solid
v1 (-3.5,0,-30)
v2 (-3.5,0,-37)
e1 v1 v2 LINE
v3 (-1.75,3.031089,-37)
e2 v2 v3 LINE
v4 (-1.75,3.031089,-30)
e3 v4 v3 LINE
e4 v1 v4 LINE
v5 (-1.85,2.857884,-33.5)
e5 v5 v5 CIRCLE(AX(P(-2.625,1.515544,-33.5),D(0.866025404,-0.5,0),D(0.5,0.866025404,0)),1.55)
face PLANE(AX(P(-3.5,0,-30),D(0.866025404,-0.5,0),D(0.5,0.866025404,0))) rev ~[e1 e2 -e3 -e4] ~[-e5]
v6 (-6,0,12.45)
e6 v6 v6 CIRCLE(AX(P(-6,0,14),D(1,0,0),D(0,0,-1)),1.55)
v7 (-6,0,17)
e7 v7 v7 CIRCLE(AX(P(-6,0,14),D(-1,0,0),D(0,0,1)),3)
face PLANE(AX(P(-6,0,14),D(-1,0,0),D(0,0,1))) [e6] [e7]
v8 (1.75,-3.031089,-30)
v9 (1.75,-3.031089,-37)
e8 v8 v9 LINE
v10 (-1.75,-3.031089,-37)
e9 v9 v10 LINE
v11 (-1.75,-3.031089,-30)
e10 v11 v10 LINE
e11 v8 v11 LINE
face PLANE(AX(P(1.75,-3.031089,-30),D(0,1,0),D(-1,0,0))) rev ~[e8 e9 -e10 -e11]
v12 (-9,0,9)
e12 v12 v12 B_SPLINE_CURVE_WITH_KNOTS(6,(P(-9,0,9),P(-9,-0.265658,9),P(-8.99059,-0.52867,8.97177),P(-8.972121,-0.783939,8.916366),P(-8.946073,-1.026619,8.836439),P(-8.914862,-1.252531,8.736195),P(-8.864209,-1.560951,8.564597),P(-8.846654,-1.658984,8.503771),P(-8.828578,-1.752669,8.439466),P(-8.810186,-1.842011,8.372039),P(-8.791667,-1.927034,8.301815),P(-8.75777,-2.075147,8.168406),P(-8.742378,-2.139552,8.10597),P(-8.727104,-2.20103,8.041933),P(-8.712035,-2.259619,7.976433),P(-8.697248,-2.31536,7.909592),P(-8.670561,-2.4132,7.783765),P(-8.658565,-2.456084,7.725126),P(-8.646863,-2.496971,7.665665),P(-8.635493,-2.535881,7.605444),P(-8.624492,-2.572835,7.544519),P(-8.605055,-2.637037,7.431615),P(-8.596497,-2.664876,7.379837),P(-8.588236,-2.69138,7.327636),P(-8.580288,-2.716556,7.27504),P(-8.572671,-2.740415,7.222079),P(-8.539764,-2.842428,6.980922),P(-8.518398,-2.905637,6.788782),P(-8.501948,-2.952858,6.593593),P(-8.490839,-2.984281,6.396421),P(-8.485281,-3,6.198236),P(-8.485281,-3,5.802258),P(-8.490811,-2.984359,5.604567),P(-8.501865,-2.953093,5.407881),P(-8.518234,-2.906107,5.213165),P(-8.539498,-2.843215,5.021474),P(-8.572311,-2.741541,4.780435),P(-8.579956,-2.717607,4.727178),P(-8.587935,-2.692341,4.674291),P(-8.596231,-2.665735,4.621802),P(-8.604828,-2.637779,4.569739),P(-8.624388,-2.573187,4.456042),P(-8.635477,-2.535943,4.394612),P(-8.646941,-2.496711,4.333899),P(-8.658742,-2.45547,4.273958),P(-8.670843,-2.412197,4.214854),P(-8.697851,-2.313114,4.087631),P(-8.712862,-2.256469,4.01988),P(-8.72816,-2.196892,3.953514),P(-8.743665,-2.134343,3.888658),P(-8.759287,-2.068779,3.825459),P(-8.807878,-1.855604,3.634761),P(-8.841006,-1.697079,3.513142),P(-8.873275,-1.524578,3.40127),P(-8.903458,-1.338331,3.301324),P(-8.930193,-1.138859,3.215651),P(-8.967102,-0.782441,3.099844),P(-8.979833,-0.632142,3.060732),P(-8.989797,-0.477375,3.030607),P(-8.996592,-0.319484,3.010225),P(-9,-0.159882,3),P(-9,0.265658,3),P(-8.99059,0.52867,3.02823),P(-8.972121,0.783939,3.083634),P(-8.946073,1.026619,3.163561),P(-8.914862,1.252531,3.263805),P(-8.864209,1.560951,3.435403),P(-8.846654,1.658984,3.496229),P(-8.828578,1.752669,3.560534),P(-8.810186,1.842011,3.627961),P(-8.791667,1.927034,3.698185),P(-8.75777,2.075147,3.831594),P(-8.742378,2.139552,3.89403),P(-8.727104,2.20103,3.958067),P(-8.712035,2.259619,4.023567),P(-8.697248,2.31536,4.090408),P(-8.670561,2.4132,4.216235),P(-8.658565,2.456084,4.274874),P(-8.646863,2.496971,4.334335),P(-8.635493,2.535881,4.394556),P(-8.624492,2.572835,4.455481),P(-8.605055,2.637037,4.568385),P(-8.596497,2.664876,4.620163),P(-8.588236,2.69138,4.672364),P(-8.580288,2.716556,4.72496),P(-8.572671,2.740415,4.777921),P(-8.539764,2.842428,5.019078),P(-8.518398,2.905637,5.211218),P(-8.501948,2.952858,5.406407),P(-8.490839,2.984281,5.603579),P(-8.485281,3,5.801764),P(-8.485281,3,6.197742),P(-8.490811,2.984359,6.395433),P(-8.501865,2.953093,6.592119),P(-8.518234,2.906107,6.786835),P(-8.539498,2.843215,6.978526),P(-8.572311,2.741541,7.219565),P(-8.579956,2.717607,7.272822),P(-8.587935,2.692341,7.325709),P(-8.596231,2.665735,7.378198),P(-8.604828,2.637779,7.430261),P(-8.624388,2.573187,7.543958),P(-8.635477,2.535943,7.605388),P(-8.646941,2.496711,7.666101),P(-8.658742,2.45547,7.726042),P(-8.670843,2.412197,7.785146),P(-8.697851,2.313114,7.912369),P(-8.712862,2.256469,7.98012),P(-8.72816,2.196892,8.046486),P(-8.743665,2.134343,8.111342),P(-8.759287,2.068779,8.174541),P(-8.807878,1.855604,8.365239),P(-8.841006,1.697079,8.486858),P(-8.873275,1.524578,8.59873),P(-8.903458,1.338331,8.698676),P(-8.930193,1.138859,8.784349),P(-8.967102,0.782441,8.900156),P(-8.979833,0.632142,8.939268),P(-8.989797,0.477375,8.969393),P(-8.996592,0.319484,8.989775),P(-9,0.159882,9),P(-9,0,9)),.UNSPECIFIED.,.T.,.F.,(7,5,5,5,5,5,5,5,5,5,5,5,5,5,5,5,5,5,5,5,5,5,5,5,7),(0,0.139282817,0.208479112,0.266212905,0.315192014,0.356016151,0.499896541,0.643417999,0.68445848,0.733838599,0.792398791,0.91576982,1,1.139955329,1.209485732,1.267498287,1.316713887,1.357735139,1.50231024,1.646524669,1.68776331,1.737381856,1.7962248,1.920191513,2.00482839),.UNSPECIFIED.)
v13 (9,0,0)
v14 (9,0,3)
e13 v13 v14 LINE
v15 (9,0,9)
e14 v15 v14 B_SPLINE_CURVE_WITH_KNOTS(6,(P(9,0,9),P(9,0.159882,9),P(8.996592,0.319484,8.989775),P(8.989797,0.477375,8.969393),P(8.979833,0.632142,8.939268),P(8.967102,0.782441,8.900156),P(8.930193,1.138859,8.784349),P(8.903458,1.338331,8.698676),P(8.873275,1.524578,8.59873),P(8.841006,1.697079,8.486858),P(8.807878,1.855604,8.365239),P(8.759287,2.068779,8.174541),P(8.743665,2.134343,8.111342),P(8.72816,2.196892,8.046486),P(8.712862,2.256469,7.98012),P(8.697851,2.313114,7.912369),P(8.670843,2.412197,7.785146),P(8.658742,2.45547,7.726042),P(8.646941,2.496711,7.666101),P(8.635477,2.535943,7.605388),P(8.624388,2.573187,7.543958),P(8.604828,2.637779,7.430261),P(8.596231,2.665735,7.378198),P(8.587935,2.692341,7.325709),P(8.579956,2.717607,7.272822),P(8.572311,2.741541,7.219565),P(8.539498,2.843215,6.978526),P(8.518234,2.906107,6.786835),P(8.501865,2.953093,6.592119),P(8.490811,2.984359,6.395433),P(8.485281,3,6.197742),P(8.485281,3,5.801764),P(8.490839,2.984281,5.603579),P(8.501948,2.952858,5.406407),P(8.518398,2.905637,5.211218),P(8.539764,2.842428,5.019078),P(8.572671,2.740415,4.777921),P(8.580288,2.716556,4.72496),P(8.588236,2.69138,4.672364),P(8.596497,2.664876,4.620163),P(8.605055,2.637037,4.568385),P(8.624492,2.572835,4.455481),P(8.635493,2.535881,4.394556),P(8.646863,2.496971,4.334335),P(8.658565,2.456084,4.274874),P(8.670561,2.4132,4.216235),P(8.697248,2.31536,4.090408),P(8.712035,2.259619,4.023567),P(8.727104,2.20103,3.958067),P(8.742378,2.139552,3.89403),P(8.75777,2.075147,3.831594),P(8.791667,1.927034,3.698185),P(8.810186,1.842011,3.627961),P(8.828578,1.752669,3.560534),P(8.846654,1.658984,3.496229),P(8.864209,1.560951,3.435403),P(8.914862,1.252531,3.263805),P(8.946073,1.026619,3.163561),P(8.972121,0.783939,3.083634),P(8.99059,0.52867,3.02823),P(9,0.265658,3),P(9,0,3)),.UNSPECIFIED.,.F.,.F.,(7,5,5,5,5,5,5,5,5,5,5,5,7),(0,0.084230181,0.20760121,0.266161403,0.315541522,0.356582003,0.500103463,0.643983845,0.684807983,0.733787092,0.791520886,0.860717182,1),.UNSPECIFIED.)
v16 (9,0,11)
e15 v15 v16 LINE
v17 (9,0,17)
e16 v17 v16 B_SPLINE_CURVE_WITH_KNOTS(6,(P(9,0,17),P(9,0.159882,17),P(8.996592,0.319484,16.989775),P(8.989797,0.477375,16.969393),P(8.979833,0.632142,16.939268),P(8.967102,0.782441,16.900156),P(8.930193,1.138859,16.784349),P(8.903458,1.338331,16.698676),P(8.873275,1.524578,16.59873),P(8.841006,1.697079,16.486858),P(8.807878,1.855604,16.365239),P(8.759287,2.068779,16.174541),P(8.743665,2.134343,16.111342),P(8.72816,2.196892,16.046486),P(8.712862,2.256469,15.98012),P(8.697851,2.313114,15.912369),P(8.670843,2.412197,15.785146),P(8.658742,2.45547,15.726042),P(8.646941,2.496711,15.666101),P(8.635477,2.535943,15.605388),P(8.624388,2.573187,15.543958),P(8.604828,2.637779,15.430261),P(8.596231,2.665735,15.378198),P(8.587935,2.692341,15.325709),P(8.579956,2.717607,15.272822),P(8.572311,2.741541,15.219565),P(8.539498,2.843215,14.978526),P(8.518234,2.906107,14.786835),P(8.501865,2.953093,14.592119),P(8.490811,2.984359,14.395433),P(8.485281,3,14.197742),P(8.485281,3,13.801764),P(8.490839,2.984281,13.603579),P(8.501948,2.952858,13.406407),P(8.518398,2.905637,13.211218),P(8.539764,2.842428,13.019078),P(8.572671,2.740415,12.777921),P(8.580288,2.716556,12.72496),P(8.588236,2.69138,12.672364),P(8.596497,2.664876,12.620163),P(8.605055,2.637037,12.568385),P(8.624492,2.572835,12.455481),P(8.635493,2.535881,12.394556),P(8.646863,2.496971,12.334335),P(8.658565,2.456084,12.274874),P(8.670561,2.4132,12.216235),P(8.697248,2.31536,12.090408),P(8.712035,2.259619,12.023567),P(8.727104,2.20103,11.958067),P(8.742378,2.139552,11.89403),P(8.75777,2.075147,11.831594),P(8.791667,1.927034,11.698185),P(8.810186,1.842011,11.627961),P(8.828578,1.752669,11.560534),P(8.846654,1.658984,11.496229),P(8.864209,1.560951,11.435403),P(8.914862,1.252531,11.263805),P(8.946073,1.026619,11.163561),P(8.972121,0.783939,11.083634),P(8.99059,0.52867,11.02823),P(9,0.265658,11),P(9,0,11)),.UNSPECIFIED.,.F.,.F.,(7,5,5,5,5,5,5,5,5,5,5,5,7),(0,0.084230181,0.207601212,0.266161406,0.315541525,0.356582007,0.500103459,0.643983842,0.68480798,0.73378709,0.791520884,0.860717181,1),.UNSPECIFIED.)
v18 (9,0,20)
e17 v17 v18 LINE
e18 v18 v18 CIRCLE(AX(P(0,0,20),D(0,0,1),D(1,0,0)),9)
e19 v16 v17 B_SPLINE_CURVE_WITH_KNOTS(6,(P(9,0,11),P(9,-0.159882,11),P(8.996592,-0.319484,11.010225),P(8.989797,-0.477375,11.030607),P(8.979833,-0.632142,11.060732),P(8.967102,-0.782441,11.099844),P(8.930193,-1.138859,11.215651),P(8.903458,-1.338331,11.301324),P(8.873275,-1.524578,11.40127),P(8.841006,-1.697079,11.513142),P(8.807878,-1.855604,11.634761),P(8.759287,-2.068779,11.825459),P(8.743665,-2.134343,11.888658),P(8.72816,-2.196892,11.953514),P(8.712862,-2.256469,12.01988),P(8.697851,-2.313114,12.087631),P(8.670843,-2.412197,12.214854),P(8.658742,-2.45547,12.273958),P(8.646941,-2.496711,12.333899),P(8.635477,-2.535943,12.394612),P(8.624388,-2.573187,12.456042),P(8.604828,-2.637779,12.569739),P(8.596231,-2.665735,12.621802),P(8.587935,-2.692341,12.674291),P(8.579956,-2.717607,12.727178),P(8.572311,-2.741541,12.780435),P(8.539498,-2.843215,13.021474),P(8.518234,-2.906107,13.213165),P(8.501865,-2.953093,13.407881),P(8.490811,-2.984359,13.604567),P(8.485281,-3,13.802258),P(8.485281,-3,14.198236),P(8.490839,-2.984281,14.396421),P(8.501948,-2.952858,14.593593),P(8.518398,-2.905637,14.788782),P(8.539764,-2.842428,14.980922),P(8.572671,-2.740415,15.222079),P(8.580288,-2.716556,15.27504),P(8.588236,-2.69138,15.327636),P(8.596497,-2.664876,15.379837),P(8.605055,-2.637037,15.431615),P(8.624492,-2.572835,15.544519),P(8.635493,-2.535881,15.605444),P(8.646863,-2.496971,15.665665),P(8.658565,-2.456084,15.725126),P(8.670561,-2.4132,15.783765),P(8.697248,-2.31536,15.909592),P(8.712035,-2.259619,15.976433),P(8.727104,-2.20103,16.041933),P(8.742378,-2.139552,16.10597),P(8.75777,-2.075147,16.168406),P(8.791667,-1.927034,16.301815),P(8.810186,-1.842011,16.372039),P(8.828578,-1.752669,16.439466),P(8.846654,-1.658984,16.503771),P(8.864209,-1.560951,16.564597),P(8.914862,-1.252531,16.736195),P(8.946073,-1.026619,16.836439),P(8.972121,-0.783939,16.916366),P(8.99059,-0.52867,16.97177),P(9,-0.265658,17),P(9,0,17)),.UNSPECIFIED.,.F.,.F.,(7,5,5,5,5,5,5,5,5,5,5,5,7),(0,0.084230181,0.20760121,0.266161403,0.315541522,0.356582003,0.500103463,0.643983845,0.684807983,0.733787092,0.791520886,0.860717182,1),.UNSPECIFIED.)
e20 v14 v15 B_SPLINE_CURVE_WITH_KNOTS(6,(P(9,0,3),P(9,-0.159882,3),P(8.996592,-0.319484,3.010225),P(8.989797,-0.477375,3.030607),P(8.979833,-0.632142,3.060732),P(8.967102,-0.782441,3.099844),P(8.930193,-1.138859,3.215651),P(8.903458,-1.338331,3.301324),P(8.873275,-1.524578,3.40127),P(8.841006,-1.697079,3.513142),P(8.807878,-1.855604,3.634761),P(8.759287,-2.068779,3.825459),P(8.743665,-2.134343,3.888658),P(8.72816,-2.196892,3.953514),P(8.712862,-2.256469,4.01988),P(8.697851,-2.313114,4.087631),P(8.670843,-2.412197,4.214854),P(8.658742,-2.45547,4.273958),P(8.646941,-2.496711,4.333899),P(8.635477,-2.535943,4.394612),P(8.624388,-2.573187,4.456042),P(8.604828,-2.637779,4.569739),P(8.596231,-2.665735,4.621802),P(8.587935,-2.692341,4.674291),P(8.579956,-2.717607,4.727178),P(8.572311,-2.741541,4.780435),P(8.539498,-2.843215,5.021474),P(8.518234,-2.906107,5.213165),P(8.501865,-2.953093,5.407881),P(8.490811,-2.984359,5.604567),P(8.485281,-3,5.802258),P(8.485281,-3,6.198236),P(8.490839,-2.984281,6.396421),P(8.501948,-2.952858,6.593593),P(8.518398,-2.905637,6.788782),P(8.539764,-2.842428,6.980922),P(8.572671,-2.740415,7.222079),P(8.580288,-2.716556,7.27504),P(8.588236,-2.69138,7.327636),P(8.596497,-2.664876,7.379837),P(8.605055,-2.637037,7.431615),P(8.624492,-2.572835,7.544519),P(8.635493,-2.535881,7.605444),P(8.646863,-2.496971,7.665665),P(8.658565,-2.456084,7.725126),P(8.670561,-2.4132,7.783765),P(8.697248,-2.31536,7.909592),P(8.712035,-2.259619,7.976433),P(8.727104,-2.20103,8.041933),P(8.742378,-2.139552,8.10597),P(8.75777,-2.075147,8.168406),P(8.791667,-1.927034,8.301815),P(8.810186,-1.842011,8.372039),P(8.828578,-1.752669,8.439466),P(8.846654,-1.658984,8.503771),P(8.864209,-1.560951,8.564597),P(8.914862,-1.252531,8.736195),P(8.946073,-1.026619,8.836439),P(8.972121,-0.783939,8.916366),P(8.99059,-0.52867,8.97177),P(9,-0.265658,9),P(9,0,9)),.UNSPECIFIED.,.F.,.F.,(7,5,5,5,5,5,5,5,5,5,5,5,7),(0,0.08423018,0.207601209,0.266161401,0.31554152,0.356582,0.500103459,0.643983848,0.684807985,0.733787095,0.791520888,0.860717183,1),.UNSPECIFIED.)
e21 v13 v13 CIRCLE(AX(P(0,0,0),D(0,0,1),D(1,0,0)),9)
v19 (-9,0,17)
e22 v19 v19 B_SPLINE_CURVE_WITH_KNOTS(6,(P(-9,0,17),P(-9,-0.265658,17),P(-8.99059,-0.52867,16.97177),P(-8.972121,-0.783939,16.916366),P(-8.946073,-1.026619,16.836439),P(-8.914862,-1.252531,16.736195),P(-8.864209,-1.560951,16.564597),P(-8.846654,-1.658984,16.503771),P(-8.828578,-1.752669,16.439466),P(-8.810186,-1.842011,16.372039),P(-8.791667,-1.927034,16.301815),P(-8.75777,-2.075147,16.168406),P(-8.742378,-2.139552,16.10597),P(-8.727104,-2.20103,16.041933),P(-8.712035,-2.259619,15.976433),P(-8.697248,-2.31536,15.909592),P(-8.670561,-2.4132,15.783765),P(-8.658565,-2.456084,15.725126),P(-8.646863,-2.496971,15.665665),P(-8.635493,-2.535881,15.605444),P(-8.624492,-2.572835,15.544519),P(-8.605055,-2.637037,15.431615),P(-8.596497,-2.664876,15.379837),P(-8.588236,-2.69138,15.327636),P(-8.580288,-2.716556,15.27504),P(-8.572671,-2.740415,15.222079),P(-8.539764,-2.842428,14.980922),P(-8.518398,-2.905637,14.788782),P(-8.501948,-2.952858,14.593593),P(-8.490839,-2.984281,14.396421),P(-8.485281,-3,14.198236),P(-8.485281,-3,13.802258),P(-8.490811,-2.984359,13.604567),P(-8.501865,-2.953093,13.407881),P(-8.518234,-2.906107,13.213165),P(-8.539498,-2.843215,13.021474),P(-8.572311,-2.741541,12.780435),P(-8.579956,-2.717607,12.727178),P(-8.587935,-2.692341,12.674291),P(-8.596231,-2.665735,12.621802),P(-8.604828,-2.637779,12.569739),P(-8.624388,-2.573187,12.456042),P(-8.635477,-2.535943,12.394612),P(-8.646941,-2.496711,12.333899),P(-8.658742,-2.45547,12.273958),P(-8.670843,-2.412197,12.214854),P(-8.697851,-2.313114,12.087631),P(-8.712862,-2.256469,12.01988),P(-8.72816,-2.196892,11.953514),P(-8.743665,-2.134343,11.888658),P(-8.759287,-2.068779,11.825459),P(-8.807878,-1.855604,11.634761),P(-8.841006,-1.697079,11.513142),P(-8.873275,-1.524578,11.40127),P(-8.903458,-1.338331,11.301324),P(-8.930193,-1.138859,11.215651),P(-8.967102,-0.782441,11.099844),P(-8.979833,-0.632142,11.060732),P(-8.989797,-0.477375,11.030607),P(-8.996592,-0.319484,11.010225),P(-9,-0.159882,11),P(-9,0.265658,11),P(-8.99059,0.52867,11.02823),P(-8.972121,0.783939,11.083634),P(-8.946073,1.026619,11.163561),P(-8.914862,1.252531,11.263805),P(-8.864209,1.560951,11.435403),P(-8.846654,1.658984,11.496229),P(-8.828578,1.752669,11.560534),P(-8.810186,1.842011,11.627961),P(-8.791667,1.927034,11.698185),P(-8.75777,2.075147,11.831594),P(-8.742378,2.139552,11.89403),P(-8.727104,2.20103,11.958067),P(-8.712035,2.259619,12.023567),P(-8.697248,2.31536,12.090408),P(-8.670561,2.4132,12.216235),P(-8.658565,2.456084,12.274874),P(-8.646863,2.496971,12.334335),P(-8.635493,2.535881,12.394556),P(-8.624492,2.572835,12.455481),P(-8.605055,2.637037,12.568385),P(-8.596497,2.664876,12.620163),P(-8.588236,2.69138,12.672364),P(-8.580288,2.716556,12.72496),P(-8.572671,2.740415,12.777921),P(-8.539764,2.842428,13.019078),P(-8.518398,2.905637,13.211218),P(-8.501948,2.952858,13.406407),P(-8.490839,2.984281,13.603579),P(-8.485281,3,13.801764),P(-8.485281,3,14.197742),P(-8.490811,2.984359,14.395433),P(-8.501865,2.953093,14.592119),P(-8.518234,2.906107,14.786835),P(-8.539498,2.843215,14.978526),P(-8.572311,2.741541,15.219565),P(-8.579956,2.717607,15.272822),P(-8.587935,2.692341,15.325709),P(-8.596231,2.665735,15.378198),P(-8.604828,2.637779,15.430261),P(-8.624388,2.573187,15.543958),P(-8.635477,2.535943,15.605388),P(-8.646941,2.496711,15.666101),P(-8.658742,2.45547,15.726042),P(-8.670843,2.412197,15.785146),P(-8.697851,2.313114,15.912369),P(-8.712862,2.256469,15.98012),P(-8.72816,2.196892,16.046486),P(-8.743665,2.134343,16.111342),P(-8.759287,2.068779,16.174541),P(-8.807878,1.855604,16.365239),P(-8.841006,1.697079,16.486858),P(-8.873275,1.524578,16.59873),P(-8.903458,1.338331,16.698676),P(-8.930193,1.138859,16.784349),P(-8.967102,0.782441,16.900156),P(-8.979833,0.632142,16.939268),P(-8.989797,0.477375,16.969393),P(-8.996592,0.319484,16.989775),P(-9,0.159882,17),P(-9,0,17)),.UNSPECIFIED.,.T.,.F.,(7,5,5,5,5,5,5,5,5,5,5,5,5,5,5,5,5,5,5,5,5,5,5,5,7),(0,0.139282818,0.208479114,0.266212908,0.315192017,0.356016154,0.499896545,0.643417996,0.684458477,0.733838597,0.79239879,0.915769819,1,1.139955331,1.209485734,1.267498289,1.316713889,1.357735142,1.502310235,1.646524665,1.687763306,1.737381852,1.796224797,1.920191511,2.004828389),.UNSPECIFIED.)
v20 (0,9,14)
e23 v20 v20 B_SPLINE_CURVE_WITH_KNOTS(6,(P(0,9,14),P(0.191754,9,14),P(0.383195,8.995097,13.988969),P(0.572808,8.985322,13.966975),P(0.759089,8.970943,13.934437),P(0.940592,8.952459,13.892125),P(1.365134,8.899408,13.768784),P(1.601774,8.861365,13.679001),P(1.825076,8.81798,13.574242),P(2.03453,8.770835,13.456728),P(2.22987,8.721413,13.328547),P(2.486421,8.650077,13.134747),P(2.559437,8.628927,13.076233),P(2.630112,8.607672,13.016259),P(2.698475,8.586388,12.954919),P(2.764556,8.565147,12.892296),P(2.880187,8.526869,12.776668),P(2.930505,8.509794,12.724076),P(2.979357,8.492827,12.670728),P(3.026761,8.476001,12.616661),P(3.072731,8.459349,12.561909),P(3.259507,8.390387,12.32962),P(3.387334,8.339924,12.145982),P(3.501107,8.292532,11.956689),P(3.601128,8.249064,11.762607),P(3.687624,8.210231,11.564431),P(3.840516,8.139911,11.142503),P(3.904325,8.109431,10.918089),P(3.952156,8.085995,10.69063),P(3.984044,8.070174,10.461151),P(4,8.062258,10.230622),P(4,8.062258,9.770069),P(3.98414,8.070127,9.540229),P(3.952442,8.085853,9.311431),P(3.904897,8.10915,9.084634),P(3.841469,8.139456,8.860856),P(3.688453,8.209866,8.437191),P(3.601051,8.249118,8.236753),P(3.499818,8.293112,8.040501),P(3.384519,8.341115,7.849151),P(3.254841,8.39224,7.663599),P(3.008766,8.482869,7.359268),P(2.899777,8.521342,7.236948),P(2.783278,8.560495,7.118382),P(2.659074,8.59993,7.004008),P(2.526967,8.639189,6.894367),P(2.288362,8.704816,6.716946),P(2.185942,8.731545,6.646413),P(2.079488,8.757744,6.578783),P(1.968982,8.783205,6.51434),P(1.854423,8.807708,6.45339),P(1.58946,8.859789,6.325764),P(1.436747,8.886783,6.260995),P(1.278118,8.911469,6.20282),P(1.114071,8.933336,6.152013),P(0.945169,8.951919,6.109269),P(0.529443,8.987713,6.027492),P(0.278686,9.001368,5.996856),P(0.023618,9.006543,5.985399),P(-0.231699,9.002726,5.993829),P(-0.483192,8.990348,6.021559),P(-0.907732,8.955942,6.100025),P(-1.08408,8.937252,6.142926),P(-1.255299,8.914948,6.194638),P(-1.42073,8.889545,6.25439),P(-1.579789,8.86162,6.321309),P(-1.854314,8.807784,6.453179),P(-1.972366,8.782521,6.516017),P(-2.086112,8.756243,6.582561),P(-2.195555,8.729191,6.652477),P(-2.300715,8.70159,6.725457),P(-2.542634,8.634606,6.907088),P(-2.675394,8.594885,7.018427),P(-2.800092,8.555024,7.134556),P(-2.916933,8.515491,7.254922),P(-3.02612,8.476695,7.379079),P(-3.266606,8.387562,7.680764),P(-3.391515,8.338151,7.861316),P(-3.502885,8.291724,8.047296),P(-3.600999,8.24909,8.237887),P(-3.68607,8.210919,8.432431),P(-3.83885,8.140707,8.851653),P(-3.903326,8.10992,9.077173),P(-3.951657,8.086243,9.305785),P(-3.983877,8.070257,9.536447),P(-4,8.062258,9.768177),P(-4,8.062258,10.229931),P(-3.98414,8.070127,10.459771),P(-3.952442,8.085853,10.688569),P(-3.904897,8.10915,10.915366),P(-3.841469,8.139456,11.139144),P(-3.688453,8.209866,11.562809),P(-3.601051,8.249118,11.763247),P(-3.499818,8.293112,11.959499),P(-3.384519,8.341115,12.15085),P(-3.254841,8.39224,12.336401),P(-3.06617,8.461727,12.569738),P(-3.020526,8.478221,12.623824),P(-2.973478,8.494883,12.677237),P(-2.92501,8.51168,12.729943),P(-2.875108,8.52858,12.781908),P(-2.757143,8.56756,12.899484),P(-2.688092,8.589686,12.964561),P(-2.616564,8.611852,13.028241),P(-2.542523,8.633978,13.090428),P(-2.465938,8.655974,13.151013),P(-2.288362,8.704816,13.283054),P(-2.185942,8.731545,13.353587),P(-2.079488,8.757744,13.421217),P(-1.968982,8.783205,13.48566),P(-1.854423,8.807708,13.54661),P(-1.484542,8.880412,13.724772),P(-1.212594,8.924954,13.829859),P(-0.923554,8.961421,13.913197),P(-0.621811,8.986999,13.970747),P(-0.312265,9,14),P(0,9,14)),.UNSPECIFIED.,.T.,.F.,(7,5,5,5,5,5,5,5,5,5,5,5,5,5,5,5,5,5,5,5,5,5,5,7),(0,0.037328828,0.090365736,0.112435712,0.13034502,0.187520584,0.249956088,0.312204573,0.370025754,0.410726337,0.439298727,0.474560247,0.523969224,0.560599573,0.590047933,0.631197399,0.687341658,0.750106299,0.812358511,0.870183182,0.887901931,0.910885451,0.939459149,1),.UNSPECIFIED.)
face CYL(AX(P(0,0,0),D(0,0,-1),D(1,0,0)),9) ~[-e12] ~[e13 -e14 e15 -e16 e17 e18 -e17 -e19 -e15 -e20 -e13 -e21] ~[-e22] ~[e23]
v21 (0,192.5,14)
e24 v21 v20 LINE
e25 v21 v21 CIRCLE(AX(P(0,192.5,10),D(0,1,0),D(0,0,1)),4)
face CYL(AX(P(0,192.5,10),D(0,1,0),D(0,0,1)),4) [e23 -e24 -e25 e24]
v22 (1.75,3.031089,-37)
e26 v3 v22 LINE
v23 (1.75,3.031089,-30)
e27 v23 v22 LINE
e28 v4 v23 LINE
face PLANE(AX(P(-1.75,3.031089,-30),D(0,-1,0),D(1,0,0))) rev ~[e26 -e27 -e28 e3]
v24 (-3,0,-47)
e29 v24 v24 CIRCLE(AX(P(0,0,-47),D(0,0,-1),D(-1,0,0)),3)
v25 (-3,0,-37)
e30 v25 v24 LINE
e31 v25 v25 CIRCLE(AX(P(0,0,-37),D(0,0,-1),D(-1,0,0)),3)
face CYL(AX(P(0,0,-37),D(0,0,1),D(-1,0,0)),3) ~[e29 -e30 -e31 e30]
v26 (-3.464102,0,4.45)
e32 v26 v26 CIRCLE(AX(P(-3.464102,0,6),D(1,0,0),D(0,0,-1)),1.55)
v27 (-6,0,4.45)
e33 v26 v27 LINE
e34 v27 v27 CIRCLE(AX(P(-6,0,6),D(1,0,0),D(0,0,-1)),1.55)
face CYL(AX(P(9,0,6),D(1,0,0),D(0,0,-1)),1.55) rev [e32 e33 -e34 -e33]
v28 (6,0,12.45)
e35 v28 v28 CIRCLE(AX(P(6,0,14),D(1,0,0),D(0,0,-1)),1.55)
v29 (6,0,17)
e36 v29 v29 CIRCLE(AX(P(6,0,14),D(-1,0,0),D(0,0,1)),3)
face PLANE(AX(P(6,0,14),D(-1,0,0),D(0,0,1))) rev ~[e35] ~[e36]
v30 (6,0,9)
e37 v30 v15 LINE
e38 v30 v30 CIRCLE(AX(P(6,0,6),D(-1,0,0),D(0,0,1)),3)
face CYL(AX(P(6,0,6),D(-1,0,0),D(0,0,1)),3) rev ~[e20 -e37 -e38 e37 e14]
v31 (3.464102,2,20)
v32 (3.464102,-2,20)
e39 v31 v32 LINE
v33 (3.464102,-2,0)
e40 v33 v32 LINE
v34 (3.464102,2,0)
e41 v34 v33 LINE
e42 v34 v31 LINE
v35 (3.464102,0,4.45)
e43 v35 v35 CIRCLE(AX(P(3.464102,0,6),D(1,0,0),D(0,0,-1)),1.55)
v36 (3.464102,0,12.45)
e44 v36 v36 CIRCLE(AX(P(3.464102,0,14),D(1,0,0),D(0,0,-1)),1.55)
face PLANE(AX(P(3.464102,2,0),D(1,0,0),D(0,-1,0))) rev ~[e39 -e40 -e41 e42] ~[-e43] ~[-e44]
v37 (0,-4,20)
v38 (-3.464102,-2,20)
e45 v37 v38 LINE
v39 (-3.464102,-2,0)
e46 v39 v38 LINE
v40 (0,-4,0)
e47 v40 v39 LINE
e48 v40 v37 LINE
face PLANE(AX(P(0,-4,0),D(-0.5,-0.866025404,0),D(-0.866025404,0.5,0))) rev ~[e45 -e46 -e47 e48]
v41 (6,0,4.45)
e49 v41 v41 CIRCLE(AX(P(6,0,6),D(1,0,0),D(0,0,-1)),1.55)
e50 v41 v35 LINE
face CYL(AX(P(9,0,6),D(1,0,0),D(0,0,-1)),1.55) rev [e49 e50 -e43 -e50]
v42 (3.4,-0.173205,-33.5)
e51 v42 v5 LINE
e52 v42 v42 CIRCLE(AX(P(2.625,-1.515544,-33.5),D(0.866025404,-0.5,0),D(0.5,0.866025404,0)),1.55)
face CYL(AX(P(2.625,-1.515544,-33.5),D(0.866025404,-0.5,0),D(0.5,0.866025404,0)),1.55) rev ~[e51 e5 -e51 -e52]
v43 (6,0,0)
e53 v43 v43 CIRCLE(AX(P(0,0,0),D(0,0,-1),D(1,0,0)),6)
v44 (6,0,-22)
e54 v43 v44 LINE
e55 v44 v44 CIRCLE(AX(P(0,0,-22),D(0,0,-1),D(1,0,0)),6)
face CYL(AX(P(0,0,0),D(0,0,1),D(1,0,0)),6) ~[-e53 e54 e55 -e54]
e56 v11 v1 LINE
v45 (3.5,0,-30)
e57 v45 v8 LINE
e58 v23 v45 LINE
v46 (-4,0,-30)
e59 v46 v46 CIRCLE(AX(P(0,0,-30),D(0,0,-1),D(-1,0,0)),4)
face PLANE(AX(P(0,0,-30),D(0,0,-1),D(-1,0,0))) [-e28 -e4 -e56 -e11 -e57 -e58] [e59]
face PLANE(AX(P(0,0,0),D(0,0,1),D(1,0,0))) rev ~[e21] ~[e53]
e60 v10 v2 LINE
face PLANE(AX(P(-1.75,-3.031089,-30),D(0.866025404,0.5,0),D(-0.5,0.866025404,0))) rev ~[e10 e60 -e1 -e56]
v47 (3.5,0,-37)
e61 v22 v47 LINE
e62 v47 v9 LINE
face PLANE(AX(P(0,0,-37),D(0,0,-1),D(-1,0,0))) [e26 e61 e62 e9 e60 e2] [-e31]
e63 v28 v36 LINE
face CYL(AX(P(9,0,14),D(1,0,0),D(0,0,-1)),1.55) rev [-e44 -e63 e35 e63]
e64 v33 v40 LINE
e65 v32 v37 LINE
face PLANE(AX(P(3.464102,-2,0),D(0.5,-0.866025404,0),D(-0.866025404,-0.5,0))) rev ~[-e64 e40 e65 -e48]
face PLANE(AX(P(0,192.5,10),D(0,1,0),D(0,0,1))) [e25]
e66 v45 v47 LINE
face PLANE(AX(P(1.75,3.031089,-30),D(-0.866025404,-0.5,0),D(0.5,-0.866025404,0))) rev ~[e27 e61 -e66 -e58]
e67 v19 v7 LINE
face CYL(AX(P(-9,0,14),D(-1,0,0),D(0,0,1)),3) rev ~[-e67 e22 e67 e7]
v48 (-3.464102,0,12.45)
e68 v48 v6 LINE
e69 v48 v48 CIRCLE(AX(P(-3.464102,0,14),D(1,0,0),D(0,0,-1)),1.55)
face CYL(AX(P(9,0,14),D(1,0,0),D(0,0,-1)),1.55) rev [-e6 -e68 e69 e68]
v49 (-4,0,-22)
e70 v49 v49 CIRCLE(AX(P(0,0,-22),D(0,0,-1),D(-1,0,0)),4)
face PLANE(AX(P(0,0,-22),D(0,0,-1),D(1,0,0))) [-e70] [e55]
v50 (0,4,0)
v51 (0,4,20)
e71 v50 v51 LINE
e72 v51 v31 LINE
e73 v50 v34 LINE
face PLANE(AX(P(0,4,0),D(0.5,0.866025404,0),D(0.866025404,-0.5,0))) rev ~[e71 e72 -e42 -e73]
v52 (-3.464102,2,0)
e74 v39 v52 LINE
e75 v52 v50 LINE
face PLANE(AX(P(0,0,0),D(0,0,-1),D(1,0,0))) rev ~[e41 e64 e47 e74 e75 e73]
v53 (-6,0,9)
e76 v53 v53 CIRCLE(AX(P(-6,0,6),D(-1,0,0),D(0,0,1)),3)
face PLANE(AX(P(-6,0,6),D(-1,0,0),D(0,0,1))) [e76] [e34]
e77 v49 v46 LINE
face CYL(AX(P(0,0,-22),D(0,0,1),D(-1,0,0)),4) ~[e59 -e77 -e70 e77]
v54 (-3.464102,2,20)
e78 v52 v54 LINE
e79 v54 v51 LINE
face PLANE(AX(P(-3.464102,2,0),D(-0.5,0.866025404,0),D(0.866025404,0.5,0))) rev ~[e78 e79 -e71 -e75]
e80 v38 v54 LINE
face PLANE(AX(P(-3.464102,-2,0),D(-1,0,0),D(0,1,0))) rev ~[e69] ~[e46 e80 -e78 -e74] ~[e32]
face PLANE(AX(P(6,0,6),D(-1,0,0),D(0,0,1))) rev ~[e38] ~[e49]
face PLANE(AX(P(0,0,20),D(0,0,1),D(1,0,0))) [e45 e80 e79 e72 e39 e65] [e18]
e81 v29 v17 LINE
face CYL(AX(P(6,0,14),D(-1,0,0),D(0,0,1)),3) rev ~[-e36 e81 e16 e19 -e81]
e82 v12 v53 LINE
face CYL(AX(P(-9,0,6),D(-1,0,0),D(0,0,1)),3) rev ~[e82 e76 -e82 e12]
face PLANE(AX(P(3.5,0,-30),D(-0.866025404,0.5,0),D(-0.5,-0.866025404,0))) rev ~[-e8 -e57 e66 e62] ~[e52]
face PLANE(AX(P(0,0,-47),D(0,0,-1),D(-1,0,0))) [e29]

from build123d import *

# Parameters (mm, degrees)
SKETCH1_R                = 9
BOSS_EXTRUDE1_DEPTH      = 20
BOSS_EXTRUDE3_REACH      = 204.69
BOSS_EXTRUDE3_END_RADIUS = 9
SKETCH6_R                = 4
CUT_EXTRUDE1_DEPTH       = 9
CUT_EXTRUDE1_DEPTH_BACK  = 9
SKETCH8_R                = 1.55
SKETCH11_R               = 6
BOSS_EXTRUDE12_DEPTH     = 22
SKETCH12_R               = 4
BOSS_EXTRUDE13_DEPTH     = 8
BOSS_EXTRUDE14_DEPTH     = 7
SKETCH14_R               = 1.55
CUT_EXTRUDE2_DEPTH       = 6.1
SKETCH15_R               = 3
BOSS_EXTRUDE15_DEPTH     = 10
CUT_EXTRUDE5_START       = 9
SKETCH16_R               = 3
CUT_EXTRUDE5_DEPTH       = 3
CUT_EXTRUDE6_START       = -6
SKETCH16_2_R             = 3
CUT_EXTRUDE6_DEPTH       = 3


with BuildPart() as part:
    # Sketch1 → Boss-Extrude1 (new body)
    with BuildSketch(Plane.XY):
        Circle(SKETCH1_R)
        Polygon((0, 4), (3.464101615, 2), (3.464101615, -2), (0, -4), (-3.464101615, -2), (-3.464101615, 2), align=None, mode=Mode.SUBTRACT)
    extrude(amount=BOSS_EXTRUDE1_DEPTH)

    # Boss-Extrude3: up to this cylinder (the profile starts outside it)
    boss_extrude3_end = Plane(origin=(0, 0, 10), z_dir=(0, 0, -1)) * Cylinder(BOSS_EXTRUDE3_END_RADIUS, 428.38, mode=Mode.PRIVATE)
    # Sketch6 → Boss-Extrude3 (add, up to the surface)
    with BuildSketch(Plane(origin=(0, 192.5, 0), x_dir=(1, 0, 0), z_dir=(0, 1, 0)), mode=Mode.PRIVATE) as boss_extrude3_sk1:
        with Locations((0, -10)):
            Circle(SKETCH6_R)
    boss_extrude3_tool1 = extrude(boss_extrude3_sk1.sketch, amount=-BOSS_EXTRUDE3_REACH, mode=Mode.PRIVATE) - boss_extrude3_end
    add(boss_extrude3_tool1.solids().sort_by_distance((0, 192.5, 10))[0])

    # Sketch8 → Cut-Extrude1 (cut, two sides: drawn at the far end of the back side and taken through both)
    with BuildSketch(Plane.ZY.offset(-CUT_EXTRUDE1_DEPTH_BACK)):
        with Locations((6, 0)):
            Circle(SKETCH8_R)
        with Locations((14, 0)):
            Circle(SKETCH8_R)
    extrude(amount=CUT_EXTRUDE1_DEPTH + CUT_EXTRUDE1_DEPTH_BACK, mode=Mode.SUBTRACT)

    # Sketch11 → Boss-Extrude12 (add)
    with BuildSketch(Plane(origin=(0, 0, 0), x_dir=(-1, 0, 0), z_dir=(0, 0, -1))):
        Circle(SKETCH11_R)
    extrude(amount=BOSS_EXTRUDE12_DEPTH)

    # Sketch12 → Boss-Extrude13 (add)
    with BuildSketch(Plane(origin=(0, 0, -22), x_dir=(-1, 0, 0), z_dir=(0, 0, -1))):
        Circle(SKETCH12_R)
    extrude(amount=BOSS_EXTRUDE13_DEPTH)

    # Sketch13 → Boss-Extrude14 (add)
    with BuildSketch(Plane(origin=(0, 0, -30), x_dir=(-1, 0, 0), z_dir=(0, 0, -1))):
        Polygon((1.75, 3.031088913), (-1.75, 3.031088913), (-3.5, 0), (-1.75, -3.031088913), (1.75, -3.031088913), (3.5, 0), align=None)
    extrude(amount=BOSS_EXTRUDE14_DEPTH)

    # Sketch14 → Cut-Extrude2 (cut)
    with BuildSketch(Plane(origin=(2.625, -1.515544457, 0), x_dir=(0, 0, -1), z_dir=(0.8660254037844379, -0.5000000000000011, 0))):
        with Locations((33.5, 0)):
            Circle(SKETCH14_R)
    extrude(amount=-CUT_EXTRUDE2_DEPTH, mode=Mode.SUBTRACT)

    # Sketch15 → Boss-Extrude15 (add)
    with BuildSketch(Plane(origin=(0, 0, -37), x_dir=(-1, 0, 0), z_dir=(0, 0, -1))):
        Circle(SKETCH15_R)
    extrude(amount=BOSS_EXTRUDE15_DEPTH)

    # Sketch16 → Cut-Extrude5 (cut)
    with BuildSketch(Plane.ZY.offset(CUT_EXTRUDE5_START)):
        with Locations((6, 0)):
            Circle(SKETCH16_R)
        with Locations((14, 0)):
            Circle(SKETCH16_R)
    extrude(amount=-CUT_EXTRUDE5_DEPTH, mode=Mode.SUBTRACT)

    # Sketch16<2> → Cut-Extrude6 (cut)
    with BuildSketch(Plane.ZY.offset(CUT_EXTRUDE6_START)):
        with Locations((6, 0)):
            Circle(SKETCH16_2_R)
        with Locations((14, 0)):
            Circle(SKETCH16_2_R)
    extrude(amount=-CUT_EXTRUDE6_DEPTH, mode=Mode.SUBTRACT)


solid = part.part
